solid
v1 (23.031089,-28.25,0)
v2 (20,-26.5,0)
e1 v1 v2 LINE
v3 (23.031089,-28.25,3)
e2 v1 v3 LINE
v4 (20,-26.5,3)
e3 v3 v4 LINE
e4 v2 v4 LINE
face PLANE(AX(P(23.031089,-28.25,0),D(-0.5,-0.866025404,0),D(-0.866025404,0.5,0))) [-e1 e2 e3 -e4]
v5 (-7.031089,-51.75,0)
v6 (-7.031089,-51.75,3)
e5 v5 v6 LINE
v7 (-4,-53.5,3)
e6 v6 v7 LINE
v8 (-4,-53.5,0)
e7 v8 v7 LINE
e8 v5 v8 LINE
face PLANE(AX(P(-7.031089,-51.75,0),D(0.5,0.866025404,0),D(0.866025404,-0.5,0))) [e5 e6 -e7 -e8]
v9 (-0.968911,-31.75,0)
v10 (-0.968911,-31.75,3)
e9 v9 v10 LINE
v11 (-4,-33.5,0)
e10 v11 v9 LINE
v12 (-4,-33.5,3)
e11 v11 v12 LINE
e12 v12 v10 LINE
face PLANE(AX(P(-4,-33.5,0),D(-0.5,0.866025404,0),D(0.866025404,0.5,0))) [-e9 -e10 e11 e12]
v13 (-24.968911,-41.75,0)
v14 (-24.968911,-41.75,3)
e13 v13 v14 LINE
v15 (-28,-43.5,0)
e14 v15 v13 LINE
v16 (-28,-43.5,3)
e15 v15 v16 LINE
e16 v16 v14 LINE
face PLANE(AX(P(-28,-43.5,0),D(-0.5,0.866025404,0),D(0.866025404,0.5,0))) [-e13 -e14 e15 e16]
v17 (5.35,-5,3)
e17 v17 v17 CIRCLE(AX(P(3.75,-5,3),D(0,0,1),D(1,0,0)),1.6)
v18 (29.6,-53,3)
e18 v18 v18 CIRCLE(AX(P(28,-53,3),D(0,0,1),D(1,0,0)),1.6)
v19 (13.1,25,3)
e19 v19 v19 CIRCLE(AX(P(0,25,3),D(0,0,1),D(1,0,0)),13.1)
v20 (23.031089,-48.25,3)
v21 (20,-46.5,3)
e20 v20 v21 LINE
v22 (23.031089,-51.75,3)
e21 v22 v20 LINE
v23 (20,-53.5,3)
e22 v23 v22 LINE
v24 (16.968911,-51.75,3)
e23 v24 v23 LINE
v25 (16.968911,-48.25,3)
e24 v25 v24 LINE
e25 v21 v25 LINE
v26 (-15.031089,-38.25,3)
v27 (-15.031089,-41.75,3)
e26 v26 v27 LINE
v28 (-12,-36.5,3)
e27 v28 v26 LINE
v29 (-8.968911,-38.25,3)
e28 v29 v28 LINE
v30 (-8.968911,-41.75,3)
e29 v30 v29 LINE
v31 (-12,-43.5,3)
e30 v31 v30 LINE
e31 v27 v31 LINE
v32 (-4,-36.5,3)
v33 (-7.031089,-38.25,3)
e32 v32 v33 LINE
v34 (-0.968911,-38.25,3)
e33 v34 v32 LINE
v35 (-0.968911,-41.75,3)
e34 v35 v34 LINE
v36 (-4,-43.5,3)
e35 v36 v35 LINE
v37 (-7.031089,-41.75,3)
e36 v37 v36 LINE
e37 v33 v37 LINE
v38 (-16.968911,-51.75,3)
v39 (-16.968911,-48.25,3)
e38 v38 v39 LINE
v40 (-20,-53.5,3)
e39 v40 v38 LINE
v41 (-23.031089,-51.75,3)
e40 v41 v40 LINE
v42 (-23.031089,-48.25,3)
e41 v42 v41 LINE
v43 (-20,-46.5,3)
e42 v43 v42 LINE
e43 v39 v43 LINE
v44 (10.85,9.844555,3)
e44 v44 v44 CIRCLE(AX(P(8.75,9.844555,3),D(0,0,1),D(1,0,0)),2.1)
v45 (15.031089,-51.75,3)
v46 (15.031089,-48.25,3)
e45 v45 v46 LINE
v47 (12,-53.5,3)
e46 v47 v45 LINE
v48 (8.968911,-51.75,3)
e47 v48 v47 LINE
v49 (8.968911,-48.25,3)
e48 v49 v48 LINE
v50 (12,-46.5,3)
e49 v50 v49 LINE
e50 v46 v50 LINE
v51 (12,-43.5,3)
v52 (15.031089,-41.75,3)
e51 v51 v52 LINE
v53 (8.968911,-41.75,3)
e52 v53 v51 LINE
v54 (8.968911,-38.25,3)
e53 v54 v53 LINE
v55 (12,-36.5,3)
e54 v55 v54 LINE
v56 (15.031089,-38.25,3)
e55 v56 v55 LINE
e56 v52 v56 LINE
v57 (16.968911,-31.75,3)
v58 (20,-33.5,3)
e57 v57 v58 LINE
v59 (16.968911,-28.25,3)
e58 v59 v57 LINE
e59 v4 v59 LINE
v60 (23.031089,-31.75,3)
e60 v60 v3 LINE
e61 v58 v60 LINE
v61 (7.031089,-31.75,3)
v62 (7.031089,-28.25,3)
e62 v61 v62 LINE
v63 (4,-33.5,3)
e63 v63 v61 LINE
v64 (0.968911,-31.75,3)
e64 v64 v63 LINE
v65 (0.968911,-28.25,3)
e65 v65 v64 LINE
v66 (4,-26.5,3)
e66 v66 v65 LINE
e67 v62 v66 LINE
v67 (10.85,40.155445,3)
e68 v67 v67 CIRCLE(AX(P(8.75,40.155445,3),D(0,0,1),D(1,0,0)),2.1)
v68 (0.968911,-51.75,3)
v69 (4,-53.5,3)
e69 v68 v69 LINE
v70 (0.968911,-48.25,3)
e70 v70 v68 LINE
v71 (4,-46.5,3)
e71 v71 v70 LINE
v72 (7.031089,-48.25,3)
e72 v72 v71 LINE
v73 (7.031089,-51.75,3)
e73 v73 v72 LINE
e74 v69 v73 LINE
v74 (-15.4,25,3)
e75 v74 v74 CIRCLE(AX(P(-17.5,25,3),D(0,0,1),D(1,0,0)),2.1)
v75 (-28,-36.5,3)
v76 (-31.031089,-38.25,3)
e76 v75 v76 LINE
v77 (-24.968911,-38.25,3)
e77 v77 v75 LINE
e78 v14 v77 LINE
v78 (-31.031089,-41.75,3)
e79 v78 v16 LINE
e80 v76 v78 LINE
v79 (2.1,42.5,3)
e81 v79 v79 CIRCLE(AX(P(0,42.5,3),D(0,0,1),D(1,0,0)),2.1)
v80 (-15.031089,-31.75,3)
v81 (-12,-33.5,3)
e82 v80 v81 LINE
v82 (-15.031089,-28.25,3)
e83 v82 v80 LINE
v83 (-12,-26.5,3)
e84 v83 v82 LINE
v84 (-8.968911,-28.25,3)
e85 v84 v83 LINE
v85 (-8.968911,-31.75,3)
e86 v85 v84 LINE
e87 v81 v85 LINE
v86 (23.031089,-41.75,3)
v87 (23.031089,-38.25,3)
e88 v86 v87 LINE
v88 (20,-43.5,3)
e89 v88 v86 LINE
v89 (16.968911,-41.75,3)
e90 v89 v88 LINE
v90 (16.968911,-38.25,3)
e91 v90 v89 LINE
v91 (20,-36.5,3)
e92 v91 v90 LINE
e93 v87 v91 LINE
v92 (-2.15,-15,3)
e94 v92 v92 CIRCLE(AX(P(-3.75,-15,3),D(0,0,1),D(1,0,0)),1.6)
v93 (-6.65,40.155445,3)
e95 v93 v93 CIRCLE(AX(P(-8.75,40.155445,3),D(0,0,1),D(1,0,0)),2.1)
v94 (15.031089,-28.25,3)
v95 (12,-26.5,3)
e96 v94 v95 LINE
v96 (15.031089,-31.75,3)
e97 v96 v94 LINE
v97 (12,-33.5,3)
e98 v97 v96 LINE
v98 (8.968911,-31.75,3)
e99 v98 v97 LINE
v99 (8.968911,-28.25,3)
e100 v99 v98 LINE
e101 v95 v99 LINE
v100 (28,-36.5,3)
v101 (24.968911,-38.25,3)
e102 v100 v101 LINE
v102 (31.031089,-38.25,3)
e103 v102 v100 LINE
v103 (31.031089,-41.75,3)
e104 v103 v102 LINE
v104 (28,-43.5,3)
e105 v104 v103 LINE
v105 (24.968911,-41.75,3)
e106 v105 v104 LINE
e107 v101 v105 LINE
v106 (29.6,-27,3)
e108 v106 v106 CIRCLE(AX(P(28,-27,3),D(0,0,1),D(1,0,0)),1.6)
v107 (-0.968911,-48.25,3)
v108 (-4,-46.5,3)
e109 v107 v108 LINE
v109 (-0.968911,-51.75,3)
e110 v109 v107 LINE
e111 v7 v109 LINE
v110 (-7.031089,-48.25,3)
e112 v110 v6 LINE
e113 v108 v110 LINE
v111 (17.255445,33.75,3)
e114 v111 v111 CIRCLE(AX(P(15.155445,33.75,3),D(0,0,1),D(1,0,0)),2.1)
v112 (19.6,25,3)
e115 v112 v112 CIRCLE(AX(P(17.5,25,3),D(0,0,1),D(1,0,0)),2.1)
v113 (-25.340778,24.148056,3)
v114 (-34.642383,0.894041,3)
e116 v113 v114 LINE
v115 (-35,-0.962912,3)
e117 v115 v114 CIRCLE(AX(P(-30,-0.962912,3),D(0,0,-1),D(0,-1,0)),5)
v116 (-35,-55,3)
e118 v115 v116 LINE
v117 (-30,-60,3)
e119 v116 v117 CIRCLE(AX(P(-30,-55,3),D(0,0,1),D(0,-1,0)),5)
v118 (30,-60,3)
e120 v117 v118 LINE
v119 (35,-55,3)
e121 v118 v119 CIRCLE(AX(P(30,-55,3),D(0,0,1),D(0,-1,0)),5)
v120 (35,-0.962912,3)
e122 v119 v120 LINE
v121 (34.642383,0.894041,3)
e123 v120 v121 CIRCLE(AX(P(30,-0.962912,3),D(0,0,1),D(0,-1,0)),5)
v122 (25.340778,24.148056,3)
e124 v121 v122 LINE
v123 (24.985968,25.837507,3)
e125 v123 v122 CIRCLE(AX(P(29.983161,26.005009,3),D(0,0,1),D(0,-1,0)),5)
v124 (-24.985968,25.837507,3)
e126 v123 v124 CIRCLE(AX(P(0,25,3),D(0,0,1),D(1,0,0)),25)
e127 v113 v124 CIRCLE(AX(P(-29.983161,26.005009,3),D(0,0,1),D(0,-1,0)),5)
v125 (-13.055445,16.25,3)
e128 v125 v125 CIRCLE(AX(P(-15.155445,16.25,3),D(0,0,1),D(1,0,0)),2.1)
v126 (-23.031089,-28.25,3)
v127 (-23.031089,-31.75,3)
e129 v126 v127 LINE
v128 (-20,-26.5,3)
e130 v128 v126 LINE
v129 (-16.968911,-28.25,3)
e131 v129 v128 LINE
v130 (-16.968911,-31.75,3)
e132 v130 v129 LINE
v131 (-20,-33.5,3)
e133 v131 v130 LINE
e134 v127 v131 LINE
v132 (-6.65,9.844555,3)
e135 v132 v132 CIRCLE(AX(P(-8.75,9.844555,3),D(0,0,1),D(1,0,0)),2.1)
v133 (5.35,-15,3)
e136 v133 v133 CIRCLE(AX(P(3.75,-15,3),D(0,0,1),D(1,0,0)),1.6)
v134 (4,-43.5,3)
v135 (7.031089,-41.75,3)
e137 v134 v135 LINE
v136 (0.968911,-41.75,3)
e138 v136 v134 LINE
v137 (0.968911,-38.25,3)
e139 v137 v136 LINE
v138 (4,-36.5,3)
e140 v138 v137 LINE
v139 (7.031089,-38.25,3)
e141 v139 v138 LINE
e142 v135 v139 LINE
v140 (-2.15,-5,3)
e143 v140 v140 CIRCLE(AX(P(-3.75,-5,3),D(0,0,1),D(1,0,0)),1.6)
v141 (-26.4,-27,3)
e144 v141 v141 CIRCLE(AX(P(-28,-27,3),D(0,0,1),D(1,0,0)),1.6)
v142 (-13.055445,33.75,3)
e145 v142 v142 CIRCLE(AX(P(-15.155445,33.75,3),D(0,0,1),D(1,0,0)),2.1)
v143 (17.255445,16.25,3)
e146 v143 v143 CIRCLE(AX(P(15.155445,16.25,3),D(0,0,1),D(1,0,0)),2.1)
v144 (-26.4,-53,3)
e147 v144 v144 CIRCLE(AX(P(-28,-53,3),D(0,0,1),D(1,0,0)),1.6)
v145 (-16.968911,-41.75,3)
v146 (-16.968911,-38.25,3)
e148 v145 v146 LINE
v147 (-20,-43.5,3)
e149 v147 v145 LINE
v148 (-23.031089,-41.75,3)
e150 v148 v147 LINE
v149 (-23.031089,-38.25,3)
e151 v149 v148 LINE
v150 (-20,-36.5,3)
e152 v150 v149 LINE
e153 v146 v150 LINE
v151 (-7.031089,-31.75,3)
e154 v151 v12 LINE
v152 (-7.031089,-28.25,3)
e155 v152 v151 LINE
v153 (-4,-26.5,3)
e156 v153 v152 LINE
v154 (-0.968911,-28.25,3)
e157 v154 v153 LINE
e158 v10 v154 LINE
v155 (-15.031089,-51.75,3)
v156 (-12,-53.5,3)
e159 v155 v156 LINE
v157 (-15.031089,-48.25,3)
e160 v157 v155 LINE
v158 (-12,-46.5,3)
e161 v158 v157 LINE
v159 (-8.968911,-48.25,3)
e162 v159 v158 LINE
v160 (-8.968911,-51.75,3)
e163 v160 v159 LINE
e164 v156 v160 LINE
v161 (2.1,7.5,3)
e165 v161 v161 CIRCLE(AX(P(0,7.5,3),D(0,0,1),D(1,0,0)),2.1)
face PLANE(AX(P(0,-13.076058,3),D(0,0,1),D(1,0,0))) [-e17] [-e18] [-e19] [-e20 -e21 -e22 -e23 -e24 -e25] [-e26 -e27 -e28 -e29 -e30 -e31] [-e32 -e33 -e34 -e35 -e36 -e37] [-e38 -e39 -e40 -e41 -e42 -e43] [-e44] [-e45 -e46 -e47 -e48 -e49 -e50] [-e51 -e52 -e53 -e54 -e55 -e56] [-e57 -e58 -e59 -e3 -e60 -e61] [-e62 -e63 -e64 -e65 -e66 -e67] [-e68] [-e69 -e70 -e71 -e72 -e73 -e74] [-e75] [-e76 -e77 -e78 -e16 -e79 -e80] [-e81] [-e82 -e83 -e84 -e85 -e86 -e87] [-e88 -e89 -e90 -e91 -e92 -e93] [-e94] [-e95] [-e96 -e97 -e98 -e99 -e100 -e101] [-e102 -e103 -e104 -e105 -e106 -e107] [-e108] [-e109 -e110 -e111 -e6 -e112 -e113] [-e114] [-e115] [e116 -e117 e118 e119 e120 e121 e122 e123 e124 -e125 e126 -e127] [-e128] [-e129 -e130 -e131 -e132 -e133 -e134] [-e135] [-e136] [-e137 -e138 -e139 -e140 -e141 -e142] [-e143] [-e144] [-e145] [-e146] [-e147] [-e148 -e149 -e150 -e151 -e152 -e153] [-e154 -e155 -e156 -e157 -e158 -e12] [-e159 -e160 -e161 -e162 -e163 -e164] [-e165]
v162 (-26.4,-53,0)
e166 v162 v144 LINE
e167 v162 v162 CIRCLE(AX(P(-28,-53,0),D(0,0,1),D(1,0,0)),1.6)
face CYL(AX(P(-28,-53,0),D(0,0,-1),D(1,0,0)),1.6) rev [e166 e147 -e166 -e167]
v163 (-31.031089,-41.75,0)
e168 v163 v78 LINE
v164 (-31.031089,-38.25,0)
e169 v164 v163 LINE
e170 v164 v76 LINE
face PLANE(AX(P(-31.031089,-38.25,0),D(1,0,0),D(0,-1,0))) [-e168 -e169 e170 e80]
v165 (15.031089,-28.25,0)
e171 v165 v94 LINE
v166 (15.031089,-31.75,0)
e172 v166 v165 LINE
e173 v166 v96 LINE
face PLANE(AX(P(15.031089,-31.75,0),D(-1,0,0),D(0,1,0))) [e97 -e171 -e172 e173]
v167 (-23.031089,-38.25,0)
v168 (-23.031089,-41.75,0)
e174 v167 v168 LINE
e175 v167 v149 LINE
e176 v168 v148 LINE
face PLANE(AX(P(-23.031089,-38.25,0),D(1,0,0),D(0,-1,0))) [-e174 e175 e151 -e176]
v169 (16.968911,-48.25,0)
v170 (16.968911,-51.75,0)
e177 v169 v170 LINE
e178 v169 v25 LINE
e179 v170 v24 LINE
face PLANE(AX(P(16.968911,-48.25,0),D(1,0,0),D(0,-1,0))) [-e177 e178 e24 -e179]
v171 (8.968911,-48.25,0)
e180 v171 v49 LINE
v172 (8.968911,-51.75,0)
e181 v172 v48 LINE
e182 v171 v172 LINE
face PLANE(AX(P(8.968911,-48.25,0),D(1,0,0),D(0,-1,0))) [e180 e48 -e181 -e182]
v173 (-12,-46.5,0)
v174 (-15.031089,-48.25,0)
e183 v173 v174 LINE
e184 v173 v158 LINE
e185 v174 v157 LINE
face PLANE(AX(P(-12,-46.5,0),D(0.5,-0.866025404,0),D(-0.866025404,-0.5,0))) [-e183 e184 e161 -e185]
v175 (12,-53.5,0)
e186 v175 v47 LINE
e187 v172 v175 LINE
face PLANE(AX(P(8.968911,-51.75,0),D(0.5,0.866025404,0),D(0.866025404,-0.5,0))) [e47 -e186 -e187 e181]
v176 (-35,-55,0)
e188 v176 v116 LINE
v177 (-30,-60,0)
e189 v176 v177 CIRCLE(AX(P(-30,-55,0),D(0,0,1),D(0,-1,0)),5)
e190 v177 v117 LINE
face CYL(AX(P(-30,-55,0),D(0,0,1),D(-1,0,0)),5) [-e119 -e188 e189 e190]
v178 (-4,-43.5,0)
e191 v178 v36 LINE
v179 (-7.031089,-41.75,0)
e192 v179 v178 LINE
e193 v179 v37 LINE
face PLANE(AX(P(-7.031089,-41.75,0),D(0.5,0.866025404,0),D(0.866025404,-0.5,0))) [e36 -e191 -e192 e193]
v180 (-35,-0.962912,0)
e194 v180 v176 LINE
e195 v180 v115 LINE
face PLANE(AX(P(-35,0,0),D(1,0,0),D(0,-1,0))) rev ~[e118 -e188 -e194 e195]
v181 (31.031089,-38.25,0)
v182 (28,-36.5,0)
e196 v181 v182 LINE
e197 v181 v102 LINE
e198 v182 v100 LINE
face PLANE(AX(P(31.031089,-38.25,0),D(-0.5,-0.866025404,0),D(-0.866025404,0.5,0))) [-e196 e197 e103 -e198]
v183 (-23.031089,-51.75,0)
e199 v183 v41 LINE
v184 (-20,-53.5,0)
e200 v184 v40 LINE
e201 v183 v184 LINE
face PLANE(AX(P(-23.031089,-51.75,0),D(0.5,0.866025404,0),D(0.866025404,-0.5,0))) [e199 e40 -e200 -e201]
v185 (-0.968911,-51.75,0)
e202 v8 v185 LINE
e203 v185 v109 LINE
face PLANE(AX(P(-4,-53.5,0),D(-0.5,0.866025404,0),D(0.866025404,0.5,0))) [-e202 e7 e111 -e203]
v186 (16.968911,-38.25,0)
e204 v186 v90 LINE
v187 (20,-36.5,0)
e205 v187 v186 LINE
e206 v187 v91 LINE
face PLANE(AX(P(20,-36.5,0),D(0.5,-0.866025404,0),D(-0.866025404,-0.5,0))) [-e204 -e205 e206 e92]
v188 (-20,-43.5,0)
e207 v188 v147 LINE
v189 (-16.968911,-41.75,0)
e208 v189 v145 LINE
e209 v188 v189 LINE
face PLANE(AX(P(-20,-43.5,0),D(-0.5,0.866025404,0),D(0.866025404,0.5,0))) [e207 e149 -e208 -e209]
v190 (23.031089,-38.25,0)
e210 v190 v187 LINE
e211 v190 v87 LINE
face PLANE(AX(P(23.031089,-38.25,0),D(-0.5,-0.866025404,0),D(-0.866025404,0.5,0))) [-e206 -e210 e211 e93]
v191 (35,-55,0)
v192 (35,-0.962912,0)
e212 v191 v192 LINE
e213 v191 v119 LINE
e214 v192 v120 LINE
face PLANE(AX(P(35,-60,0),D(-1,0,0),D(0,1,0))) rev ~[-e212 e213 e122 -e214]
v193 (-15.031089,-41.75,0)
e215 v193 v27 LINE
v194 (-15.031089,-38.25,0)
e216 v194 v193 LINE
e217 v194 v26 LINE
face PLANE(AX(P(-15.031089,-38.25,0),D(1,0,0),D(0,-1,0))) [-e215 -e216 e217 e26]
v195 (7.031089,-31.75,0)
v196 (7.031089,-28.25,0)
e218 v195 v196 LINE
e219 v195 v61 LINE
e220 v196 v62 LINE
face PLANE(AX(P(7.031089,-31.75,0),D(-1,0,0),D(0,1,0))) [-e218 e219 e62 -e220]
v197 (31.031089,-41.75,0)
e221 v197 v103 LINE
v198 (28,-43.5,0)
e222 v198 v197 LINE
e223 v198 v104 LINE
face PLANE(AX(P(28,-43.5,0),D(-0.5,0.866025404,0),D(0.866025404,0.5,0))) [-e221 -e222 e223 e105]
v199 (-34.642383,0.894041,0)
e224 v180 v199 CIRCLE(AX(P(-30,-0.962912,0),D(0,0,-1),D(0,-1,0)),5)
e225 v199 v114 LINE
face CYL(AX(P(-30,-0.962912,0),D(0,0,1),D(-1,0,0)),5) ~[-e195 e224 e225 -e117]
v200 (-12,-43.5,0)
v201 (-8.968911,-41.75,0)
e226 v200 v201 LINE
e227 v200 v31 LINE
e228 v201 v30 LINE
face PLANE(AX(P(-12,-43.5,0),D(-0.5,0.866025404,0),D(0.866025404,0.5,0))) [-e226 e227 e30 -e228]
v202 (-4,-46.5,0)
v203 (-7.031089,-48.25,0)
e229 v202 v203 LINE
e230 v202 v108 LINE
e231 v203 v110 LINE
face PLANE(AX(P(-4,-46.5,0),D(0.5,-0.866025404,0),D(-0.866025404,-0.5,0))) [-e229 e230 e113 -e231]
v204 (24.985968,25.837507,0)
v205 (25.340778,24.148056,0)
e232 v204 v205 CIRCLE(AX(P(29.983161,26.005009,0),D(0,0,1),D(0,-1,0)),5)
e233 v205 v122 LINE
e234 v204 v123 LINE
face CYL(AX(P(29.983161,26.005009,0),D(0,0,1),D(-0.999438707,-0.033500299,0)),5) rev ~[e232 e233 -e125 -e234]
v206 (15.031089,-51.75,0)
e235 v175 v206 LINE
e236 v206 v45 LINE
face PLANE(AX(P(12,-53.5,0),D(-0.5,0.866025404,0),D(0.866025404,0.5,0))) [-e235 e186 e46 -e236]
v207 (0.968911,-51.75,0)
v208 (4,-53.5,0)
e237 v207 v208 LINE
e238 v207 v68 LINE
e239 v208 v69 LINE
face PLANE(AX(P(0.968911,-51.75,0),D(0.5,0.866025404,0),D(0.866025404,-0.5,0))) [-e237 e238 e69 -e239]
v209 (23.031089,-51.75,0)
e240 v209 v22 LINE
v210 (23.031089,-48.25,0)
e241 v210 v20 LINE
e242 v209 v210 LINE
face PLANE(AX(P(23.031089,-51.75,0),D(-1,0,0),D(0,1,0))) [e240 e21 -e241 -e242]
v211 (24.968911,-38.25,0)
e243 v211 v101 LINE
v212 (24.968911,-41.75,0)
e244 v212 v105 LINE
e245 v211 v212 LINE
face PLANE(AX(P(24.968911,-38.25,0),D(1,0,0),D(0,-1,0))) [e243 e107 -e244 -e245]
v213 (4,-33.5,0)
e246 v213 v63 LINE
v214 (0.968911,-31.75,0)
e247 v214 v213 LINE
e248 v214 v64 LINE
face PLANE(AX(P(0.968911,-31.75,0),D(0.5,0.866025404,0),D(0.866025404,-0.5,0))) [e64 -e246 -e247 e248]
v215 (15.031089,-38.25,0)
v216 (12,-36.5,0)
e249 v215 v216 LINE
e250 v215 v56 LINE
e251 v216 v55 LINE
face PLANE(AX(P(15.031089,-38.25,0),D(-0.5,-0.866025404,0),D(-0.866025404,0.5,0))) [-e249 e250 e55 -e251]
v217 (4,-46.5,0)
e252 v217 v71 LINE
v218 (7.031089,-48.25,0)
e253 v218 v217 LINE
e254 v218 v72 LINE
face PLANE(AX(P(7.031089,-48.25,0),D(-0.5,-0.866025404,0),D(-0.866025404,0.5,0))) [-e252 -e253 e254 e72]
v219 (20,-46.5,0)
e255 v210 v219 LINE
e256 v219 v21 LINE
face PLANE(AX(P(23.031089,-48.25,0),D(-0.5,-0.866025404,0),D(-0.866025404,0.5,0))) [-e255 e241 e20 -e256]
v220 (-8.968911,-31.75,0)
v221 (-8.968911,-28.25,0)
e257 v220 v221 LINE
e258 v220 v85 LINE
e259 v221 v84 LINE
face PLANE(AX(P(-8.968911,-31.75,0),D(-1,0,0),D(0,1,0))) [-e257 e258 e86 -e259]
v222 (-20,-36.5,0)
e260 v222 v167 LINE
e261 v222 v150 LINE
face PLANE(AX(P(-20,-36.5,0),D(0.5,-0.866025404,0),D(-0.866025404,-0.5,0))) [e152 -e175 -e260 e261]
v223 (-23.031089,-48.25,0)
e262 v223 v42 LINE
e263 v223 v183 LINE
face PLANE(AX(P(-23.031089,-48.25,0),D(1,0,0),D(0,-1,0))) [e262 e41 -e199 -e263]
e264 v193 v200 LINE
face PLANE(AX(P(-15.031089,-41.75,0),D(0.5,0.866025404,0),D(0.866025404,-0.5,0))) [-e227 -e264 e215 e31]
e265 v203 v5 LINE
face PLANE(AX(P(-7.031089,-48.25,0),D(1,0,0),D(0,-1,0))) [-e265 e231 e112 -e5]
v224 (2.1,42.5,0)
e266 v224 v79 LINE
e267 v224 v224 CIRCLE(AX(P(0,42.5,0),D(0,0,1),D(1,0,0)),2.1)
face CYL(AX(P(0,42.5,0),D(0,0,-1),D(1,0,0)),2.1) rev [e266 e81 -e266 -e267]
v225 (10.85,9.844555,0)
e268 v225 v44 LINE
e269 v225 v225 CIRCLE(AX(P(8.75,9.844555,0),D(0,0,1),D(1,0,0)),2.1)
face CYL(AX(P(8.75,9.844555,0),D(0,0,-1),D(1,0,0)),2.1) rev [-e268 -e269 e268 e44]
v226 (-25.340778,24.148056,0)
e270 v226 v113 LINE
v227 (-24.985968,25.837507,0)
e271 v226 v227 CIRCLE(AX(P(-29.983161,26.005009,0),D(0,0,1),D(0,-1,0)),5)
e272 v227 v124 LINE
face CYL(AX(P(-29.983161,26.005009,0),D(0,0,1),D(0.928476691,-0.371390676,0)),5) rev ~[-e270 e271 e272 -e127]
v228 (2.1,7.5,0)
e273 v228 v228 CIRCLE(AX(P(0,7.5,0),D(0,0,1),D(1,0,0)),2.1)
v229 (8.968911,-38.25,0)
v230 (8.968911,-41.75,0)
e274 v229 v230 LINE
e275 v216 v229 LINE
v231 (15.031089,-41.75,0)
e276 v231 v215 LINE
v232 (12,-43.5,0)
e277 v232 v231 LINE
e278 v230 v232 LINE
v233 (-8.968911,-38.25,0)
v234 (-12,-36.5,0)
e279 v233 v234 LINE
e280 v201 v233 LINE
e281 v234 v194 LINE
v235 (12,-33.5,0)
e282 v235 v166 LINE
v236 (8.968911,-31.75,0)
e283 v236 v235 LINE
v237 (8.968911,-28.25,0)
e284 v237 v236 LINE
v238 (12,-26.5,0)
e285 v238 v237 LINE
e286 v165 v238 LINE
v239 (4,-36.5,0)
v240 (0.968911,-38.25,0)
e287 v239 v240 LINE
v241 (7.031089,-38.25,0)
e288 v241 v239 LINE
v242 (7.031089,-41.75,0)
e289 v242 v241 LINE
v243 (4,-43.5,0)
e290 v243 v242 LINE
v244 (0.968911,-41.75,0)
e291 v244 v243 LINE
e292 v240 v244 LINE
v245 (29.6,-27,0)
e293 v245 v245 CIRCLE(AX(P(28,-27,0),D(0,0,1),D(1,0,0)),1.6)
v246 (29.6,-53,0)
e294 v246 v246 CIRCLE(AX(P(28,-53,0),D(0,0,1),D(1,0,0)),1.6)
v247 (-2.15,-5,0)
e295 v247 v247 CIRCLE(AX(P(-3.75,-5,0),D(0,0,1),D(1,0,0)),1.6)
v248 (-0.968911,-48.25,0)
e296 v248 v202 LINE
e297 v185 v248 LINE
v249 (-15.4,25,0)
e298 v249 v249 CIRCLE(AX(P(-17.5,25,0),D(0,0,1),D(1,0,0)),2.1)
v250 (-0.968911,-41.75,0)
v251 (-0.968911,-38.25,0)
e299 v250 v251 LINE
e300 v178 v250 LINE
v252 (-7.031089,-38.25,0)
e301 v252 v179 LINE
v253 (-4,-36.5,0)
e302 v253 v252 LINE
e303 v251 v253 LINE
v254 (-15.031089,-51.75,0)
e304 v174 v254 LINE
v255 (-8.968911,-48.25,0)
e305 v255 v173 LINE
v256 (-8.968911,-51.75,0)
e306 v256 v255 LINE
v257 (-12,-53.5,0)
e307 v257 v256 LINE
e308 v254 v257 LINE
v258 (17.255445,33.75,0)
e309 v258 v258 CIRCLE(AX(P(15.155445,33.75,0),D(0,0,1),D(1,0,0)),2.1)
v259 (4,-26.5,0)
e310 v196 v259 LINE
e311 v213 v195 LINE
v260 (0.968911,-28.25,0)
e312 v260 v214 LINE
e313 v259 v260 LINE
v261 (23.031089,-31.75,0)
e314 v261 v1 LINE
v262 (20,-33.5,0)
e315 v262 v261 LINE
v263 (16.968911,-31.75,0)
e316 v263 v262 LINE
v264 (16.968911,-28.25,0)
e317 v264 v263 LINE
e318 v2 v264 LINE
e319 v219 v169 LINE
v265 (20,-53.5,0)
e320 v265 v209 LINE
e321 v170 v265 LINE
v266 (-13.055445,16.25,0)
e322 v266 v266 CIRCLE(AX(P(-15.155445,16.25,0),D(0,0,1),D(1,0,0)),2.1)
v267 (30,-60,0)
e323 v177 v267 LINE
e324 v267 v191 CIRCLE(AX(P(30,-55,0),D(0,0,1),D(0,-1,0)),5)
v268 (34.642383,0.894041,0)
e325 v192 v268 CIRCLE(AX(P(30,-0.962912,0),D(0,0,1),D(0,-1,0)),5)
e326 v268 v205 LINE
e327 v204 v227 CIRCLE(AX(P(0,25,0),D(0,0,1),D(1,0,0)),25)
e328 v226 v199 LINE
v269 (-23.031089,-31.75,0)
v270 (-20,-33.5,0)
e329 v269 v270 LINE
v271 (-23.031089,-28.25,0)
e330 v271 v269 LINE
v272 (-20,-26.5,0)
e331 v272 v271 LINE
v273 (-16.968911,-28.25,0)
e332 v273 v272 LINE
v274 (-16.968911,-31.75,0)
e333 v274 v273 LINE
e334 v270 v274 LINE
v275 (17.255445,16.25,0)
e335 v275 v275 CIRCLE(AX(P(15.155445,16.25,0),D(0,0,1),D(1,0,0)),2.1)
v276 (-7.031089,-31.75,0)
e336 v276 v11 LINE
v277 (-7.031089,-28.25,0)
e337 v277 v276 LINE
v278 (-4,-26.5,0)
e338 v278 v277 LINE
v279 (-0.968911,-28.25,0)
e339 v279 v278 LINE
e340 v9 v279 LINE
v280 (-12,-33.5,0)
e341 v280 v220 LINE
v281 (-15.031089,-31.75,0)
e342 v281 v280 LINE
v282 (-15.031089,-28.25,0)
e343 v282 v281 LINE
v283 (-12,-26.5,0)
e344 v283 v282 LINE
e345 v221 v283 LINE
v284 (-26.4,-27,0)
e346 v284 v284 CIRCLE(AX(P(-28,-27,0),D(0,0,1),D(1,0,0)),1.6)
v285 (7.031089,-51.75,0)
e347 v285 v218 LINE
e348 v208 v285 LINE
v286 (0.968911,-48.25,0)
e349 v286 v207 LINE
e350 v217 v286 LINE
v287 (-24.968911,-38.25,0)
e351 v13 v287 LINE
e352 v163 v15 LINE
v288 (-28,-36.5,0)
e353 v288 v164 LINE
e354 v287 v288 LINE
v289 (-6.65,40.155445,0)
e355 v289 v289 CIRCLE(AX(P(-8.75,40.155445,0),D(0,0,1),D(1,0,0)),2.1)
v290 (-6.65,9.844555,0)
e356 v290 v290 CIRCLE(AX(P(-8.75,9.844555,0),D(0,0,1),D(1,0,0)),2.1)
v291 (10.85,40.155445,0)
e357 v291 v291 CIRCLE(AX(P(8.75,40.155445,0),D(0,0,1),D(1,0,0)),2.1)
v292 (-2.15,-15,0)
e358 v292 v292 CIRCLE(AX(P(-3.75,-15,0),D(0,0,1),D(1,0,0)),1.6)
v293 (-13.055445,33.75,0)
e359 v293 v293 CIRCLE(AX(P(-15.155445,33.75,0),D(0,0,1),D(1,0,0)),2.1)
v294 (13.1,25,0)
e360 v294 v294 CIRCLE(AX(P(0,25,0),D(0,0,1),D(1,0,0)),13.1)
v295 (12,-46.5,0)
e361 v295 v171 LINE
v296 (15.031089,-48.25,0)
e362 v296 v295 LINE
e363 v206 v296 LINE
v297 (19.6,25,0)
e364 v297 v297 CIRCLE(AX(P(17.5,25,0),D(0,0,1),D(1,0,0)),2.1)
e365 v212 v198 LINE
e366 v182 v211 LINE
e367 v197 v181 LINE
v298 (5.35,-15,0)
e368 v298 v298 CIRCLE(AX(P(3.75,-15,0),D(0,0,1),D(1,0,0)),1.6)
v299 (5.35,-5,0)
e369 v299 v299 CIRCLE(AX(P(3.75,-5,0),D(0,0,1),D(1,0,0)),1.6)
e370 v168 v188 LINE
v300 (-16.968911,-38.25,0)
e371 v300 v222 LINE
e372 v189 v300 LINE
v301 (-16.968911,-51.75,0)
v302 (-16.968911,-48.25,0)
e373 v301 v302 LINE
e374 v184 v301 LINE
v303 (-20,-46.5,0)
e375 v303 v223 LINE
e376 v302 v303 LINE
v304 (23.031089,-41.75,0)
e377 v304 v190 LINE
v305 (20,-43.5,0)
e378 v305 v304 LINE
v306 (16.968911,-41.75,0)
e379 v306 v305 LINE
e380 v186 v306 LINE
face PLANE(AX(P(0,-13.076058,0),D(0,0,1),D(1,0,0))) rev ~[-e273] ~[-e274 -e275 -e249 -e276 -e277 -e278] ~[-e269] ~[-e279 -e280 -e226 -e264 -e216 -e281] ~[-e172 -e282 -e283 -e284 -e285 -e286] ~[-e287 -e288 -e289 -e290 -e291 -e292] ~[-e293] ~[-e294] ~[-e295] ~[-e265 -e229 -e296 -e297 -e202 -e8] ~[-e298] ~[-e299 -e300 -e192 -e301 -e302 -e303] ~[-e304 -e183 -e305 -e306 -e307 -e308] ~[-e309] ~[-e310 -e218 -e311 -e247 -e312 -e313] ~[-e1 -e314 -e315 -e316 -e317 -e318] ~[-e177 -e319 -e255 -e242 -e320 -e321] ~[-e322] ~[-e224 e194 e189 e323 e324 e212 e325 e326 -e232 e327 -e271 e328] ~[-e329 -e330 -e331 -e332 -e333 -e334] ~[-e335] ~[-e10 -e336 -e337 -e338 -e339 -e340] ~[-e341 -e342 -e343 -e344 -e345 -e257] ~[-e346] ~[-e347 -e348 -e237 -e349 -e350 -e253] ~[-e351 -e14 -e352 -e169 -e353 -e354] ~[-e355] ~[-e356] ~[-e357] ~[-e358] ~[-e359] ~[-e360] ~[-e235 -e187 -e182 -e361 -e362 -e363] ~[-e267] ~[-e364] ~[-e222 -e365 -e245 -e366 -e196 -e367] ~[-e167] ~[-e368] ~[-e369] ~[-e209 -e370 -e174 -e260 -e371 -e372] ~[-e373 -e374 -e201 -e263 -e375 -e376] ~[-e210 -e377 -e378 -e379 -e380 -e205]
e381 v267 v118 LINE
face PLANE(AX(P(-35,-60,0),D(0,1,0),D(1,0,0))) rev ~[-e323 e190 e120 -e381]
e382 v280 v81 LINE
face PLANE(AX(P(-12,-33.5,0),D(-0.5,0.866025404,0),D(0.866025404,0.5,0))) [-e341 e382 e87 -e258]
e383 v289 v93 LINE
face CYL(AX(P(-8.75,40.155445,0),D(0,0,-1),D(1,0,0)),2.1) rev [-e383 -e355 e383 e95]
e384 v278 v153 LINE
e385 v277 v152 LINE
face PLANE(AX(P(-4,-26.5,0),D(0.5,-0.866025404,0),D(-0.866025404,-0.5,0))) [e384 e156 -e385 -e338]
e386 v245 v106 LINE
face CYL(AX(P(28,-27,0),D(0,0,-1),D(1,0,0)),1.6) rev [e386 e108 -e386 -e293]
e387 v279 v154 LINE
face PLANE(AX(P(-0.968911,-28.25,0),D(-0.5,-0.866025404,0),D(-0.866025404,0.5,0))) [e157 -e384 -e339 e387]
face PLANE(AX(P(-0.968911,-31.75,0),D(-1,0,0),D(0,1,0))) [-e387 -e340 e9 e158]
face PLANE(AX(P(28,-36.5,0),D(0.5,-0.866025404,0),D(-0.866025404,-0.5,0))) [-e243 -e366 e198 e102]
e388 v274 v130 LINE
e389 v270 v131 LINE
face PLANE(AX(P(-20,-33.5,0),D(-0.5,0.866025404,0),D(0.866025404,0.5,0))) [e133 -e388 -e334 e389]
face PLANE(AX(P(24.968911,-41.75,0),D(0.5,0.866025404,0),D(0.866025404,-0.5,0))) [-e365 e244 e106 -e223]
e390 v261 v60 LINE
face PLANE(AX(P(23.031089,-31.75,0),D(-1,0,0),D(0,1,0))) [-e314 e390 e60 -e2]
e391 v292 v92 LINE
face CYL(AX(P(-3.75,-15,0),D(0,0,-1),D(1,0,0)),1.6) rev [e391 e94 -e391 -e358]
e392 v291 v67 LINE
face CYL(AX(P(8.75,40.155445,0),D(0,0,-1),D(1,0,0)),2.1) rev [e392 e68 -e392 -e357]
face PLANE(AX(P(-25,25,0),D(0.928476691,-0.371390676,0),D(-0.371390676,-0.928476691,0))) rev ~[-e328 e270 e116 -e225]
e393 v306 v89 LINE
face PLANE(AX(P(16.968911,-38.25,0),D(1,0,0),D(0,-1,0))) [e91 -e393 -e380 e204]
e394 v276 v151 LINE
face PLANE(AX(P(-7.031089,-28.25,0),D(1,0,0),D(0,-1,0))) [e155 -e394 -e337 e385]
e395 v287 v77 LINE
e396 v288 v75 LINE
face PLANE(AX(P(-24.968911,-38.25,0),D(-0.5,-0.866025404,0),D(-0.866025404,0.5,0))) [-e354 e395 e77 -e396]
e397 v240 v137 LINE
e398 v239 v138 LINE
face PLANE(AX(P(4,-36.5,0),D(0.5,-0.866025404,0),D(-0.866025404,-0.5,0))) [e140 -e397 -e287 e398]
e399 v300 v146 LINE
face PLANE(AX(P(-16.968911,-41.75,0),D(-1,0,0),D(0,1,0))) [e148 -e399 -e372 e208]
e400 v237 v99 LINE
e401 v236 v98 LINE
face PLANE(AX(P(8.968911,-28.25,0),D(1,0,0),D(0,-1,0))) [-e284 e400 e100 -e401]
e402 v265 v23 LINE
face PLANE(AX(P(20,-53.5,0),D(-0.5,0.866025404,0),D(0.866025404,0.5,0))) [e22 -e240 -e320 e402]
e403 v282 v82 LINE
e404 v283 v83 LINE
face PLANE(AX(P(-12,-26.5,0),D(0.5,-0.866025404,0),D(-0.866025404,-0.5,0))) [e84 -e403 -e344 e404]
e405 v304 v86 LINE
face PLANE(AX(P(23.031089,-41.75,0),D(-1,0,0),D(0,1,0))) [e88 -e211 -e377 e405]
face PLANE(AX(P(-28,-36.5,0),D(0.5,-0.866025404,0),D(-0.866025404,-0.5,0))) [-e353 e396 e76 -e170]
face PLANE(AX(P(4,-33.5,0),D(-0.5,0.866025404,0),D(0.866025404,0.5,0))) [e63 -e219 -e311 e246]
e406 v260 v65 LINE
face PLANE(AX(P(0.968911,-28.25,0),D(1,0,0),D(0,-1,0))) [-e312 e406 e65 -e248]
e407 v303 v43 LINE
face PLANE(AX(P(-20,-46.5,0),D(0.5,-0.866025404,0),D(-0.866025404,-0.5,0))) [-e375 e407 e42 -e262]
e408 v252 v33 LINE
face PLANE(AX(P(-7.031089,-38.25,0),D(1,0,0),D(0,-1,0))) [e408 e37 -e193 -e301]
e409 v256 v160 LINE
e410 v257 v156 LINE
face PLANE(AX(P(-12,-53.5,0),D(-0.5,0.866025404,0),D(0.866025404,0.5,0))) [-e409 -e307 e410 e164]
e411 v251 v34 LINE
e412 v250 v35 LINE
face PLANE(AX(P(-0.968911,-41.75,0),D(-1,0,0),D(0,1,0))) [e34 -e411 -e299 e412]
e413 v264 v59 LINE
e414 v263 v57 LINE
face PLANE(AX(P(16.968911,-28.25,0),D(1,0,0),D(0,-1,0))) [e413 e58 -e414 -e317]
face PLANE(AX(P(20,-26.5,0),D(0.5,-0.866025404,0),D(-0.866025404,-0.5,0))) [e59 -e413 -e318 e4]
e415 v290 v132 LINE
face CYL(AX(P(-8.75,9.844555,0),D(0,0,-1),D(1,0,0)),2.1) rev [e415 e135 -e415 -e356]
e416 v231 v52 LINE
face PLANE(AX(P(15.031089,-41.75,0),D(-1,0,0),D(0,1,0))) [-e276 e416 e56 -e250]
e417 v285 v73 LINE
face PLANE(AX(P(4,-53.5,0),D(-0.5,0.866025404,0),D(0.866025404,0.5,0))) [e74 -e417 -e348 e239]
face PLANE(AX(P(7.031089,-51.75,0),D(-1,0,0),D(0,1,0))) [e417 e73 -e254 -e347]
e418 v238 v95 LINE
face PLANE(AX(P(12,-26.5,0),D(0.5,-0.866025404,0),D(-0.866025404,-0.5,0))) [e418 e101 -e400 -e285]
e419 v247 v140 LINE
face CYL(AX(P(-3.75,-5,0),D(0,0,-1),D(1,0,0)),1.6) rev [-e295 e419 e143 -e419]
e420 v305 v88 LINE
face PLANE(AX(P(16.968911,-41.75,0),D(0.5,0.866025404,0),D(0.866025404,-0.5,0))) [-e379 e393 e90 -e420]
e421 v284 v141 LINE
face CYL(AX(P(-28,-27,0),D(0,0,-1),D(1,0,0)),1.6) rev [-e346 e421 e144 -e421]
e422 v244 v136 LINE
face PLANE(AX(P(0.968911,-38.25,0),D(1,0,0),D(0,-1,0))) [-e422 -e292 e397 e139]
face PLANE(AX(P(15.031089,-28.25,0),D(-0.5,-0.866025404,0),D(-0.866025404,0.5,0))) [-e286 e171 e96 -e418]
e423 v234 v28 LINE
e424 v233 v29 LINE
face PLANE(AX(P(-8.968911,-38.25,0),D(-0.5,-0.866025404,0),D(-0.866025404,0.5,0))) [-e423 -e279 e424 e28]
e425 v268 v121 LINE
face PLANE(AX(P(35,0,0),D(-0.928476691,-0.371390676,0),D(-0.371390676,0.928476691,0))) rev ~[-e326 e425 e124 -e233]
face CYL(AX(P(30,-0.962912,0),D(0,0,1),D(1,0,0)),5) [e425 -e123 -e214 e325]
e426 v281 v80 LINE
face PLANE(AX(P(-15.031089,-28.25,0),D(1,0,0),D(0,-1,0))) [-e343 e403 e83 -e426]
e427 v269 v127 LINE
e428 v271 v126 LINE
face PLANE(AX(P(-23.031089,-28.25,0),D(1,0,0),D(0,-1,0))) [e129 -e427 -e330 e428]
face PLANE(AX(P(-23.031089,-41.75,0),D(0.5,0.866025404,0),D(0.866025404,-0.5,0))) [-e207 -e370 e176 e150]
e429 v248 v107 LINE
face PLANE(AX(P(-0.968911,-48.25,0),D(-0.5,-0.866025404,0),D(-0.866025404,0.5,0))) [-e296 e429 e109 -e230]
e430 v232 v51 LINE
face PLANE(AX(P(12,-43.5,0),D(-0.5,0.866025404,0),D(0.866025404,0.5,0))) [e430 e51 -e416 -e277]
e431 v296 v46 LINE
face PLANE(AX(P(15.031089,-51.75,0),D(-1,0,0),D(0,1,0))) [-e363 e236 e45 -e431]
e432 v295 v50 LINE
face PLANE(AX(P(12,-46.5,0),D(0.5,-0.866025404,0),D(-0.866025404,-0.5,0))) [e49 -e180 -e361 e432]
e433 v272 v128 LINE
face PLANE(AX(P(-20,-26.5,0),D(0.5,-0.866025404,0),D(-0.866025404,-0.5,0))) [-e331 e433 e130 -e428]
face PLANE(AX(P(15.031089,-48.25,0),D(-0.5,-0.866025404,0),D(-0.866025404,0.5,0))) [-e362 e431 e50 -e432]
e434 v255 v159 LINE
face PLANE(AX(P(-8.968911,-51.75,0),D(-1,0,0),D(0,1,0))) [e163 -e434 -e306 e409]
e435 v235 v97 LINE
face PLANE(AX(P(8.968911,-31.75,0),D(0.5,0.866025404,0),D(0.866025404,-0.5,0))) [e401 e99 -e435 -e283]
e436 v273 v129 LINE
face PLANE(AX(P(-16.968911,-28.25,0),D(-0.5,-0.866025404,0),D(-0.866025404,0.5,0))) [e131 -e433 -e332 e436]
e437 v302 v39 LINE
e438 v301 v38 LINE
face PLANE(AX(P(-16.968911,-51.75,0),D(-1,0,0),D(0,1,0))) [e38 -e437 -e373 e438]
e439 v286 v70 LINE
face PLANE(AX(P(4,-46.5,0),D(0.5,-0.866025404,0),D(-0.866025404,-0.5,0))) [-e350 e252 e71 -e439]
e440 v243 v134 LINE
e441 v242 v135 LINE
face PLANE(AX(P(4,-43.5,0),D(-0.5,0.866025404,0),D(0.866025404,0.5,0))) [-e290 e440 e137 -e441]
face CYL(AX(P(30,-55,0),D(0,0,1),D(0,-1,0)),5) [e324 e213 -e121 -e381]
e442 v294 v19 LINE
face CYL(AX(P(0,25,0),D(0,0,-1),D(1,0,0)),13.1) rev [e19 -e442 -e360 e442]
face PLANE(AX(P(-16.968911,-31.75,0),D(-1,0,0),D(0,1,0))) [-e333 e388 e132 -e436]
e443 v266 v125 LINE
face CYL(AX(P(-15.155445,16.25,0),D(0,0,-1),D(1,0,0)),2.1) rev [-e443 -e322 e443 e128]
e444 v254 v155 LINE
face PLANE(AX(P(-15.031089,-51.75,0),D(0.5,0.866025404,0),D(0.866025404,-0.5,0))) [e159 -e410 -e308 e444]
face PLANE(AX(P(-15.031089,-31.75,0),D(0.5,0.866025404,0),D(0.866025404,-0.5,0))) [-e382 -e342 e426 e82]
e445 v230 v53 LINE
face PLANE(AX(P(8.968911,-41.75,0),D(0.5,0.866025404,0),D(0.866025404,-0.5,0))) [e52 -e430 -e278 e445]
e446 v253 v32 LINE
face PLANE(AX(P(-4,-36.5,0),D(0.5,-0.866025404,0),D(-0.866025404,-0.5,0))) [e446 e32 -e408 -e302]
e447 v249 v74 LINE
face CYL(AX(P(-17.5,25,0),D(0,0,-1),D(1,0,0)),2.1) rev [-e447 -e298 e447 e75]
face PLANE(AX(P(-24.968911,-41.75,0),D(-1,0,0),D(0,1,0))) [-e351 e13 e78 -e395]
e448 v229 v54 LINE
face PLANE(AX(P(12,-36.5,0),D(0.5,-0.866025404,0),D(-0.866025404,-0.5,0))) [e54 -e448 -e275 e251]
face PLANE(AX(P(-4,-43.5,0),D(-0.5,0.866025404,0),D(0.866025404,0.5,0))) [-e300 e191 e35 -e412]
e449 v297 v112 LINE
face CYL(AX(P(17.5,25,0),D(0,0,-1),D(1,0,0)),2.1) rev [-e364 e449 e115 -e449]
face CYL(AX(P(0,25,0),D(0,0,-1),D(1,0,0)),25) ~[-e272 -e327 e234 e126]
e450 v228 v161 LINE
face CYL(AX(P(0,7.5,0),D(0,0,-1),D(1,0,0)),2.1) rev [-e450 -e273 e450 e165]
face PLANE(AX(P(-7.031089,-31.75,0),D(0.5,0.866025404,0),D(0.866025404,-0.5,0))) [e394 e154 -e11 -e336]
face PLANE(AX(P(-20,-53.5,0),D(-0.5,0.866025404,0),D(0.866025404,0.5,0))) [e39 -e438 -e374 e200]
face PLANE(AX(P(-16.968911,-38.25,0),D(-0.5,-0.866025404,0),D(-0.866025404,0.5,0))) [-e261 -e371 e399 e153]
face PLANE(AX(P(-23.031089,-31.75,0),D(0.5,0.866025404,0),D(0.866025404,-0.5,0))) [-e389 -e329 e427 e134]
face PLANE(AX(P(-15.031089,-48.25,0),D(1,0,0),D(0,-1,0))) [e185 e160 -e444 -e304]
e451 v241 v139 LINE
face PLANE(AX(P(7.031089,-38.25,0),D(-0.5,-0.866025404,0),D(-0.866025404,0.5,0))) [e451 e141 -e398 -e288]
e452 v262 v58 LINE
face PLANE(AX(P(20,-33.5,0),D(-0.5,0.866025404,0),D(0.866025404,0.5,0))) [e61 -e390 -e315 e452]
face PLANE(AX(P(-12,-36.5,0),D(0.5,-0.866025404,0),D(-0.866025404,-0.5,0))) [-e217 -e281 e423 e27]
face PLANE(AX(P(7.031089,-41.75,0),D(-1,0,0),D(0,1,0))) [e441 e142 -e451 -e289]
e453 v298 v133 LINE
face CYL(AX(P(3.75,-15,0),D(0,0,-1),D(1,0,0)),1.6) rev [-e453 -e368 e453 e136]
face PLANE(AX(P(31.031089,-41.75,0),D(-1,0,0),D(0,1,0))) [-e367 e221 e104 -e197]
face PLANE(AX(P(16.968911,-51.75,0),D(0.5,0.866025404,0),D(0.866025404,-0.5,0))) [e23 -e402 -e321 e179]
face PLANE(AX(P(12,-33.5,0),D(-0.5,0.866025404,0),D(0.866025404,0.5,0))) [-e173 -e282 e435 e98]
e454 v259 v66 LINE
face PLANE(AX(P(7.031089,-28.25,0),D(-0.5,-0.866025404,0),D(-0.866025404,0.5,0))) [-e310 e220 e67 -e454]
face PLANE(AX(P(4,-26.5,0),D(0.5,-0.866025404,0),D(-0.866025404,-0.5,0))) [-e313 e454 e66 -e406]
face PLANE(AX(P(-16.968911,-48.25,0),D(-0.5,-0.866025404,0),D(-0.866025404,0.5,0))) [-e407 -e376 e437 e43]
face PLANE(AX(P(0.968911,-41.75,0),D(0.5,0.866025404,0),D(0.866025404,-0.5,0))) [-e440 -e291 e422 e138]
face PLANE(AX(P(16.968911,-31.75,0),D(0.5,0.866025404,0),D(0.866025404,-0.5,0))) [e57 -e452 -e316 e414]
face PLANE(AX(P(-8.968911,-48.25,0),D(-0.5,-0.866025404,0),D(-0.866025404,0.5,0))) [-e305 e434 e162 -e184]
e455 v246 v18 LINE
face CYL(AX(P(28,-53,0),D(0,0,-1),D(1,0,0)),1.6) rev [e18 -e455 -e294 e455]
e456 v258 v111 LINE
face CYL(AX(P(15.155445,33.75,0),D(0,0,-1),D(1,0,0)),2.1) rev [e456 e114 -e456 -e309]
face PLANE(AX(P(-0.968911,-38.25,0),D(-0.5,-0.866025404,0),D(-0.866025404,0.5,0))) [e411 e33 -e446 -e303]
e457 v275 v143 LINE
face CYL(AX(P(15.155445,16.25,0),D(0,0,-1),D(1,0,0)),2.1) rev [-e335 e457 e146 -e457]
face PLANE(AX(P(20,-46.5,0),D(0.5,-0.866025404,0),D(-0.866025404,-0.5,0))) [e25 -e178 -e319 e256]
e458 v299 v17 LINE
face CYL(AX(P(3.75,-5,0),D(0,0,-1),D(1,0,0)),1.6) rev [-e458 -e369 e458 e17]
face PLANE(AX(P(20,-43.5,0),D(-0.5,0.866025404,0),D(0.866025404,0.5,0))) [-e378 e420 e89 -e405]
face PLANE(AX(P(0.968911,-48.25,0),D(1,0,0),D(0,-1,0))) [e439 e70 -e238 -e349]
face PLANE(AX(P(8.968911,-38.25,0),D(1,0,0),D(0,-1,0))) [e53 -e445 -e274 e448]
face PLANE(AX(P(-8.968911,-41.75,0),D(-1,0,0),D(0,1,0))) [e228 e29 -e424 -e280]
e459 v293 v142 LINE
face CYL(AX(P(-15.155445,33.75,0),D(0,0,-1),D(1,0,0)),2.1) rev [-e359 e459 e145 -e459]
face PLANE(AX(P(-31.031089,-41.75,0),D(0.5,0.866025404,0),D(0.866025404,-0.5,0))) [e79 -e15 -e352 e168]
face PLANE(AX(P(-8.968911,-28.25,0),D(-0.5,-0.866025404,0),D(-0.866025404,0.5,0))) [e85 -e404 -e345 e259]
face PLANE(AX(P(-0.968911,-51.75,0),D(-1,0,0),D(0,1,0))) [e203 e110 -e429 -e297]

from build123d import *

# Parameters (mm, degrees)
SKETCH_1_R      = 13.1
SKETCH_1_R_2    = 1.6
SKETCH_1_R_3    = 2.1
EXTRUDE_1_DEPTH = 3
FILLET_1_R      = 5


with BuildPart() as part:
    # 草图1 → 凸台-拉伸1 (new body)
    with BuildSketch(Plane.XY):
        with BuildLine():
            Line((-35, 0), (-35, -60))
            Line((-35, -60), (-20, -60))
            Line((-20, -60), (20, -60))
            Line((20, -60), (35, -60))
            Line((35, -60), (35, 0))
            Line((35, 0), (25, 25))
            ThreePointArc((25, 25), (0, 50), (-25, 25))
            Line((-25, 25), (-35, 0))
        make_face()
        with Locations((0, 25)):
            Circle(SKETCH_1_R, mode=Mode.SUBTRACT)
        with Locations((-28, -53)):
            Circle(SKETCH_1_R_2, mode=Mode.SUBTRACT)
        with Locations((-28, -27)):
            Circle(SKETCH_1_R_2, mode=Mode.SUBTRACT)
        with Locations((28, -27)):
            Circle(SKETCH_1_R_2, mode=Mode.SUBTRACT)
        with Locations((28, -53)):
            Circle(SKETCH_1_R_2, mode=Mode.SUBTRACT)
        with Locations((0, 7.5)):
            Circle(SKETCH_1_R_3, mode=Mode.SUBTRACT)
        with Locations((-8.75, 9.844555434)):
            Circle(SKETCH_1_R_3, mode=Mode.SUBTRACT)
        with Locations((-15.155444566, 16.25)):
            Circle(SKETCH_1_R_3, mode=Mode.SUBTRACT)
        with Locations((-17.5, 25)):
            Circle(SKETCH_1_R_3, mode=Mode.SUBTRACT)
        with Locations((-15.155444566, 33.75)):
            Circle(SKETCH_1_R_3, mode=Mode.SUBTRACT)
        with Locations((-8.75, 40.155444566)):
            Circle(SKETCH_1_R_3, mode=Mode.SUBTRACT)
        with Locations((0, 42.5)):
            Circle(SKETCH_1_R_3, mode=Mode.SUBTRACT)
        with Locations((8.75, 40.155444566)):
            Circle(SKETCH_1_R_3, mode=Mode.SUBTRACT)
        with Locations((15.155444566, 33.75)):
            Circle(SKETCH_1_R_3, mode=Mode.SUBTRACT)
        with Locations((17.5, 25)):
            Circle(SKETCH_1_R_3, mode=Mode.SUBTRACT)
        with Locations((15.155444566, 16.25)):
            Circle(SKETCH_1_R_3, mode=Mode.SUBTRACT)
        with Locations((8.75, 9.844555434)):
            Circle(SKETCH_1_R_3, mode=Mode.SUBTRACT)
        with Locations((-3.75, -5)):
            Circle(SKETCH_1_R_2, mode=Mode.SUBTRACT)
        with Locations((3.75, -5)):
            Circle(SKETCH_1_R_2, mode=Mode.SUBTRACT)
        with Locations((3.75, -15)):
            Circle(SKETCH_1_R_2, mode=Mode.SUBTRACT)
        with Locations((-3.75, -15)):
            Circle(SKETCH_1_R_2, mode=Mode.SUBTRACT)
        Polygon((-24.968911087, -38.25), (-28, -36.5), (-31.031088913, -38.25), (-31.031088913, -41.75), (-28, -43.5), (-24.968911087, -41.75), align=None, mode=Mode.SUBTRACT)
        Polygon((-16.968911087, -38.25), (-20, -36.5), (-23.031088913, -38.25), (-23.031088913, -41.75), (-20, -43.5), (-16.968911087, -41.75), align=None, mode=Mode.SUBTRACT)
        Polygon((-8.968911087, -38.25), (-12, -36.5), (-15.031088913, -38.25), (-15.031088913, -41.75), (-12, -43.5), (-8.968911087, -41.75), align=None, mode=Mode.SUBTRACT)
        Polygon((-0.968911087, -38.25), (-4, -36.5), (-7.031088913, -38.25), (-7.031088913, -41.75), (-4, -43.5), (-0.968911087, -41.75), align=None, mode=Mode.SUBTRACT)
        Polygon((7.031088913, -38.25), (4, -36.5), (0.968911087, -38.25), (0.968911087, -41.75), (4, -43.5), (7.031088913, -41.75), align=None, mode=Mode.SUBTRACT)
        Polygon((15.031088913, -38.25), (12, -36.5), (8.968911087, -38.25), (8.968911087, -41.75), (12, -43.5), (15.031088913, -41.75), align=None, mode=Mode.SUBTRACT)
        Polygon((23.031088913, -38.25), (20, -36.5), (16.968911087, -38.25), (16.968911087, -41.75), (20, -43.5), (23.031088913, -41.75), align=None, mode=Mode.SUBTRACT)
        Polygon((31.031088913, -38.25), (28, -36.5), (24.968911087, -38.25), (24.968911087, -41.75), (28, -43.5), (31.031088913, -41.75), align=None, mode=Mode.SUBTRACT)
        Polygon((-16.968911087, -48.25), (-20, -46.5), (-23.031088913, -48.25), (-23.031088913, -51.75), (-20, -53.5), (-16.968911087, -51.75), align=None, mode=Mode.SUBTRACT)
        Polygon((23.031088913, -48.25), (20, -46.5), (16.968911087, -48.25), (16.968911087, -51.75), (20, -53.5), (23.031088913, -51.75), align=None, mode=Mode.SUBTRACT)
        Polygon((-0.968911087, -48.25), (-4, -46.5), (-7.031088913, -48.25), (-7.031088913, -51.75), (-4, -53.5), (-0.968911087, -51.75), align=None, mode=Mode.SUBTRACT)
        Polygon((-8.968911087, -48.25), (-12, -46.5), (-15.031088913, -48.25), (-15.031088913, -51.75), (-12, -53.5), (-8.968911087, -51.75), align=None, mode=Mode.SUBTRACT)
        Polygon((7.031088913, -48.25), (4, -46.5), (0.968911087, -48.25), (0.968911087, -51.75), (4, -53.5), (7.031088913, -51.75), align=None, mode=Mode.SUBTRACT)
        Polygon((15.031088913, -48.25), (12, -46.5), (8.968911087, -48.25), (8.968911087, -51.75), (12, -53.5), (15.031088913, -51.75), align=None, mode=Mode.SUBTRACT)
        Polygon((-16.968911087, -28.25), (-20, -26.5), (-23.031088913, -28.25), (-23.031088913, -31.75), (-20, -33.5), (-16.968911087, -31.75), align=None, mode=Mode.SUBTRACT)
        Polygon((-8.968911087, -28.25), (-12, -26.5), (-15.031088913, -28.25), (-15.031088913, -31.75), (-12, -33.5), (-8.968911087, -31.75), align=None, mode=Mode.SUBTRACT)
        Polygon((-0.968911087, -28.25), (-4, -26.5), (-7.031088913, -28.25), (-7.031088913, -31.75), (-4, -33.5), (-0.968911087, -31.75), align=None, mode=Mode.SUBTRACT)
        Polygon((7.031088913, -28.25), (4, -26.5), (0.968911087, -28.25), (0.968911087, -31.75), (4, -33.5), (7.031088913, -31.75), align=None, mode=Mode.SUBTRACT)
        Polygon((15.031088913, -28.25), (12, -26.5), (8.968911087, -28.25), (8.968911087, -31.75), (12, -33.5), (15.031088913, -31.75), align=None, mode=Mode.SUBTRACT)
        Polygon((23.031088913, -28.25), (20, -26.5), (16.968911087, -28.25), (16.968911087, -31.75), (20, -33.5), (23.031088913, -31.75), align=None, mode=Mode.SUBTRACT)
    extrude(amount=EXTRUDE_1_DEPTH)

    # 圆角1
    fillet_1_edges = [part.edges().sort_by_distance(p)[0] for p in [
        (25, 25, 1.5),
        (35, 0, 1.5),
        (35, -60, 1.5),
        (-35, -60, 1.5),
        (-35, 0, 1.5),
        (-25, 25, 1.5),
    ]]
    fillet(fillet_1_edges, radius=FILLET_1_R)


solid = part.part
